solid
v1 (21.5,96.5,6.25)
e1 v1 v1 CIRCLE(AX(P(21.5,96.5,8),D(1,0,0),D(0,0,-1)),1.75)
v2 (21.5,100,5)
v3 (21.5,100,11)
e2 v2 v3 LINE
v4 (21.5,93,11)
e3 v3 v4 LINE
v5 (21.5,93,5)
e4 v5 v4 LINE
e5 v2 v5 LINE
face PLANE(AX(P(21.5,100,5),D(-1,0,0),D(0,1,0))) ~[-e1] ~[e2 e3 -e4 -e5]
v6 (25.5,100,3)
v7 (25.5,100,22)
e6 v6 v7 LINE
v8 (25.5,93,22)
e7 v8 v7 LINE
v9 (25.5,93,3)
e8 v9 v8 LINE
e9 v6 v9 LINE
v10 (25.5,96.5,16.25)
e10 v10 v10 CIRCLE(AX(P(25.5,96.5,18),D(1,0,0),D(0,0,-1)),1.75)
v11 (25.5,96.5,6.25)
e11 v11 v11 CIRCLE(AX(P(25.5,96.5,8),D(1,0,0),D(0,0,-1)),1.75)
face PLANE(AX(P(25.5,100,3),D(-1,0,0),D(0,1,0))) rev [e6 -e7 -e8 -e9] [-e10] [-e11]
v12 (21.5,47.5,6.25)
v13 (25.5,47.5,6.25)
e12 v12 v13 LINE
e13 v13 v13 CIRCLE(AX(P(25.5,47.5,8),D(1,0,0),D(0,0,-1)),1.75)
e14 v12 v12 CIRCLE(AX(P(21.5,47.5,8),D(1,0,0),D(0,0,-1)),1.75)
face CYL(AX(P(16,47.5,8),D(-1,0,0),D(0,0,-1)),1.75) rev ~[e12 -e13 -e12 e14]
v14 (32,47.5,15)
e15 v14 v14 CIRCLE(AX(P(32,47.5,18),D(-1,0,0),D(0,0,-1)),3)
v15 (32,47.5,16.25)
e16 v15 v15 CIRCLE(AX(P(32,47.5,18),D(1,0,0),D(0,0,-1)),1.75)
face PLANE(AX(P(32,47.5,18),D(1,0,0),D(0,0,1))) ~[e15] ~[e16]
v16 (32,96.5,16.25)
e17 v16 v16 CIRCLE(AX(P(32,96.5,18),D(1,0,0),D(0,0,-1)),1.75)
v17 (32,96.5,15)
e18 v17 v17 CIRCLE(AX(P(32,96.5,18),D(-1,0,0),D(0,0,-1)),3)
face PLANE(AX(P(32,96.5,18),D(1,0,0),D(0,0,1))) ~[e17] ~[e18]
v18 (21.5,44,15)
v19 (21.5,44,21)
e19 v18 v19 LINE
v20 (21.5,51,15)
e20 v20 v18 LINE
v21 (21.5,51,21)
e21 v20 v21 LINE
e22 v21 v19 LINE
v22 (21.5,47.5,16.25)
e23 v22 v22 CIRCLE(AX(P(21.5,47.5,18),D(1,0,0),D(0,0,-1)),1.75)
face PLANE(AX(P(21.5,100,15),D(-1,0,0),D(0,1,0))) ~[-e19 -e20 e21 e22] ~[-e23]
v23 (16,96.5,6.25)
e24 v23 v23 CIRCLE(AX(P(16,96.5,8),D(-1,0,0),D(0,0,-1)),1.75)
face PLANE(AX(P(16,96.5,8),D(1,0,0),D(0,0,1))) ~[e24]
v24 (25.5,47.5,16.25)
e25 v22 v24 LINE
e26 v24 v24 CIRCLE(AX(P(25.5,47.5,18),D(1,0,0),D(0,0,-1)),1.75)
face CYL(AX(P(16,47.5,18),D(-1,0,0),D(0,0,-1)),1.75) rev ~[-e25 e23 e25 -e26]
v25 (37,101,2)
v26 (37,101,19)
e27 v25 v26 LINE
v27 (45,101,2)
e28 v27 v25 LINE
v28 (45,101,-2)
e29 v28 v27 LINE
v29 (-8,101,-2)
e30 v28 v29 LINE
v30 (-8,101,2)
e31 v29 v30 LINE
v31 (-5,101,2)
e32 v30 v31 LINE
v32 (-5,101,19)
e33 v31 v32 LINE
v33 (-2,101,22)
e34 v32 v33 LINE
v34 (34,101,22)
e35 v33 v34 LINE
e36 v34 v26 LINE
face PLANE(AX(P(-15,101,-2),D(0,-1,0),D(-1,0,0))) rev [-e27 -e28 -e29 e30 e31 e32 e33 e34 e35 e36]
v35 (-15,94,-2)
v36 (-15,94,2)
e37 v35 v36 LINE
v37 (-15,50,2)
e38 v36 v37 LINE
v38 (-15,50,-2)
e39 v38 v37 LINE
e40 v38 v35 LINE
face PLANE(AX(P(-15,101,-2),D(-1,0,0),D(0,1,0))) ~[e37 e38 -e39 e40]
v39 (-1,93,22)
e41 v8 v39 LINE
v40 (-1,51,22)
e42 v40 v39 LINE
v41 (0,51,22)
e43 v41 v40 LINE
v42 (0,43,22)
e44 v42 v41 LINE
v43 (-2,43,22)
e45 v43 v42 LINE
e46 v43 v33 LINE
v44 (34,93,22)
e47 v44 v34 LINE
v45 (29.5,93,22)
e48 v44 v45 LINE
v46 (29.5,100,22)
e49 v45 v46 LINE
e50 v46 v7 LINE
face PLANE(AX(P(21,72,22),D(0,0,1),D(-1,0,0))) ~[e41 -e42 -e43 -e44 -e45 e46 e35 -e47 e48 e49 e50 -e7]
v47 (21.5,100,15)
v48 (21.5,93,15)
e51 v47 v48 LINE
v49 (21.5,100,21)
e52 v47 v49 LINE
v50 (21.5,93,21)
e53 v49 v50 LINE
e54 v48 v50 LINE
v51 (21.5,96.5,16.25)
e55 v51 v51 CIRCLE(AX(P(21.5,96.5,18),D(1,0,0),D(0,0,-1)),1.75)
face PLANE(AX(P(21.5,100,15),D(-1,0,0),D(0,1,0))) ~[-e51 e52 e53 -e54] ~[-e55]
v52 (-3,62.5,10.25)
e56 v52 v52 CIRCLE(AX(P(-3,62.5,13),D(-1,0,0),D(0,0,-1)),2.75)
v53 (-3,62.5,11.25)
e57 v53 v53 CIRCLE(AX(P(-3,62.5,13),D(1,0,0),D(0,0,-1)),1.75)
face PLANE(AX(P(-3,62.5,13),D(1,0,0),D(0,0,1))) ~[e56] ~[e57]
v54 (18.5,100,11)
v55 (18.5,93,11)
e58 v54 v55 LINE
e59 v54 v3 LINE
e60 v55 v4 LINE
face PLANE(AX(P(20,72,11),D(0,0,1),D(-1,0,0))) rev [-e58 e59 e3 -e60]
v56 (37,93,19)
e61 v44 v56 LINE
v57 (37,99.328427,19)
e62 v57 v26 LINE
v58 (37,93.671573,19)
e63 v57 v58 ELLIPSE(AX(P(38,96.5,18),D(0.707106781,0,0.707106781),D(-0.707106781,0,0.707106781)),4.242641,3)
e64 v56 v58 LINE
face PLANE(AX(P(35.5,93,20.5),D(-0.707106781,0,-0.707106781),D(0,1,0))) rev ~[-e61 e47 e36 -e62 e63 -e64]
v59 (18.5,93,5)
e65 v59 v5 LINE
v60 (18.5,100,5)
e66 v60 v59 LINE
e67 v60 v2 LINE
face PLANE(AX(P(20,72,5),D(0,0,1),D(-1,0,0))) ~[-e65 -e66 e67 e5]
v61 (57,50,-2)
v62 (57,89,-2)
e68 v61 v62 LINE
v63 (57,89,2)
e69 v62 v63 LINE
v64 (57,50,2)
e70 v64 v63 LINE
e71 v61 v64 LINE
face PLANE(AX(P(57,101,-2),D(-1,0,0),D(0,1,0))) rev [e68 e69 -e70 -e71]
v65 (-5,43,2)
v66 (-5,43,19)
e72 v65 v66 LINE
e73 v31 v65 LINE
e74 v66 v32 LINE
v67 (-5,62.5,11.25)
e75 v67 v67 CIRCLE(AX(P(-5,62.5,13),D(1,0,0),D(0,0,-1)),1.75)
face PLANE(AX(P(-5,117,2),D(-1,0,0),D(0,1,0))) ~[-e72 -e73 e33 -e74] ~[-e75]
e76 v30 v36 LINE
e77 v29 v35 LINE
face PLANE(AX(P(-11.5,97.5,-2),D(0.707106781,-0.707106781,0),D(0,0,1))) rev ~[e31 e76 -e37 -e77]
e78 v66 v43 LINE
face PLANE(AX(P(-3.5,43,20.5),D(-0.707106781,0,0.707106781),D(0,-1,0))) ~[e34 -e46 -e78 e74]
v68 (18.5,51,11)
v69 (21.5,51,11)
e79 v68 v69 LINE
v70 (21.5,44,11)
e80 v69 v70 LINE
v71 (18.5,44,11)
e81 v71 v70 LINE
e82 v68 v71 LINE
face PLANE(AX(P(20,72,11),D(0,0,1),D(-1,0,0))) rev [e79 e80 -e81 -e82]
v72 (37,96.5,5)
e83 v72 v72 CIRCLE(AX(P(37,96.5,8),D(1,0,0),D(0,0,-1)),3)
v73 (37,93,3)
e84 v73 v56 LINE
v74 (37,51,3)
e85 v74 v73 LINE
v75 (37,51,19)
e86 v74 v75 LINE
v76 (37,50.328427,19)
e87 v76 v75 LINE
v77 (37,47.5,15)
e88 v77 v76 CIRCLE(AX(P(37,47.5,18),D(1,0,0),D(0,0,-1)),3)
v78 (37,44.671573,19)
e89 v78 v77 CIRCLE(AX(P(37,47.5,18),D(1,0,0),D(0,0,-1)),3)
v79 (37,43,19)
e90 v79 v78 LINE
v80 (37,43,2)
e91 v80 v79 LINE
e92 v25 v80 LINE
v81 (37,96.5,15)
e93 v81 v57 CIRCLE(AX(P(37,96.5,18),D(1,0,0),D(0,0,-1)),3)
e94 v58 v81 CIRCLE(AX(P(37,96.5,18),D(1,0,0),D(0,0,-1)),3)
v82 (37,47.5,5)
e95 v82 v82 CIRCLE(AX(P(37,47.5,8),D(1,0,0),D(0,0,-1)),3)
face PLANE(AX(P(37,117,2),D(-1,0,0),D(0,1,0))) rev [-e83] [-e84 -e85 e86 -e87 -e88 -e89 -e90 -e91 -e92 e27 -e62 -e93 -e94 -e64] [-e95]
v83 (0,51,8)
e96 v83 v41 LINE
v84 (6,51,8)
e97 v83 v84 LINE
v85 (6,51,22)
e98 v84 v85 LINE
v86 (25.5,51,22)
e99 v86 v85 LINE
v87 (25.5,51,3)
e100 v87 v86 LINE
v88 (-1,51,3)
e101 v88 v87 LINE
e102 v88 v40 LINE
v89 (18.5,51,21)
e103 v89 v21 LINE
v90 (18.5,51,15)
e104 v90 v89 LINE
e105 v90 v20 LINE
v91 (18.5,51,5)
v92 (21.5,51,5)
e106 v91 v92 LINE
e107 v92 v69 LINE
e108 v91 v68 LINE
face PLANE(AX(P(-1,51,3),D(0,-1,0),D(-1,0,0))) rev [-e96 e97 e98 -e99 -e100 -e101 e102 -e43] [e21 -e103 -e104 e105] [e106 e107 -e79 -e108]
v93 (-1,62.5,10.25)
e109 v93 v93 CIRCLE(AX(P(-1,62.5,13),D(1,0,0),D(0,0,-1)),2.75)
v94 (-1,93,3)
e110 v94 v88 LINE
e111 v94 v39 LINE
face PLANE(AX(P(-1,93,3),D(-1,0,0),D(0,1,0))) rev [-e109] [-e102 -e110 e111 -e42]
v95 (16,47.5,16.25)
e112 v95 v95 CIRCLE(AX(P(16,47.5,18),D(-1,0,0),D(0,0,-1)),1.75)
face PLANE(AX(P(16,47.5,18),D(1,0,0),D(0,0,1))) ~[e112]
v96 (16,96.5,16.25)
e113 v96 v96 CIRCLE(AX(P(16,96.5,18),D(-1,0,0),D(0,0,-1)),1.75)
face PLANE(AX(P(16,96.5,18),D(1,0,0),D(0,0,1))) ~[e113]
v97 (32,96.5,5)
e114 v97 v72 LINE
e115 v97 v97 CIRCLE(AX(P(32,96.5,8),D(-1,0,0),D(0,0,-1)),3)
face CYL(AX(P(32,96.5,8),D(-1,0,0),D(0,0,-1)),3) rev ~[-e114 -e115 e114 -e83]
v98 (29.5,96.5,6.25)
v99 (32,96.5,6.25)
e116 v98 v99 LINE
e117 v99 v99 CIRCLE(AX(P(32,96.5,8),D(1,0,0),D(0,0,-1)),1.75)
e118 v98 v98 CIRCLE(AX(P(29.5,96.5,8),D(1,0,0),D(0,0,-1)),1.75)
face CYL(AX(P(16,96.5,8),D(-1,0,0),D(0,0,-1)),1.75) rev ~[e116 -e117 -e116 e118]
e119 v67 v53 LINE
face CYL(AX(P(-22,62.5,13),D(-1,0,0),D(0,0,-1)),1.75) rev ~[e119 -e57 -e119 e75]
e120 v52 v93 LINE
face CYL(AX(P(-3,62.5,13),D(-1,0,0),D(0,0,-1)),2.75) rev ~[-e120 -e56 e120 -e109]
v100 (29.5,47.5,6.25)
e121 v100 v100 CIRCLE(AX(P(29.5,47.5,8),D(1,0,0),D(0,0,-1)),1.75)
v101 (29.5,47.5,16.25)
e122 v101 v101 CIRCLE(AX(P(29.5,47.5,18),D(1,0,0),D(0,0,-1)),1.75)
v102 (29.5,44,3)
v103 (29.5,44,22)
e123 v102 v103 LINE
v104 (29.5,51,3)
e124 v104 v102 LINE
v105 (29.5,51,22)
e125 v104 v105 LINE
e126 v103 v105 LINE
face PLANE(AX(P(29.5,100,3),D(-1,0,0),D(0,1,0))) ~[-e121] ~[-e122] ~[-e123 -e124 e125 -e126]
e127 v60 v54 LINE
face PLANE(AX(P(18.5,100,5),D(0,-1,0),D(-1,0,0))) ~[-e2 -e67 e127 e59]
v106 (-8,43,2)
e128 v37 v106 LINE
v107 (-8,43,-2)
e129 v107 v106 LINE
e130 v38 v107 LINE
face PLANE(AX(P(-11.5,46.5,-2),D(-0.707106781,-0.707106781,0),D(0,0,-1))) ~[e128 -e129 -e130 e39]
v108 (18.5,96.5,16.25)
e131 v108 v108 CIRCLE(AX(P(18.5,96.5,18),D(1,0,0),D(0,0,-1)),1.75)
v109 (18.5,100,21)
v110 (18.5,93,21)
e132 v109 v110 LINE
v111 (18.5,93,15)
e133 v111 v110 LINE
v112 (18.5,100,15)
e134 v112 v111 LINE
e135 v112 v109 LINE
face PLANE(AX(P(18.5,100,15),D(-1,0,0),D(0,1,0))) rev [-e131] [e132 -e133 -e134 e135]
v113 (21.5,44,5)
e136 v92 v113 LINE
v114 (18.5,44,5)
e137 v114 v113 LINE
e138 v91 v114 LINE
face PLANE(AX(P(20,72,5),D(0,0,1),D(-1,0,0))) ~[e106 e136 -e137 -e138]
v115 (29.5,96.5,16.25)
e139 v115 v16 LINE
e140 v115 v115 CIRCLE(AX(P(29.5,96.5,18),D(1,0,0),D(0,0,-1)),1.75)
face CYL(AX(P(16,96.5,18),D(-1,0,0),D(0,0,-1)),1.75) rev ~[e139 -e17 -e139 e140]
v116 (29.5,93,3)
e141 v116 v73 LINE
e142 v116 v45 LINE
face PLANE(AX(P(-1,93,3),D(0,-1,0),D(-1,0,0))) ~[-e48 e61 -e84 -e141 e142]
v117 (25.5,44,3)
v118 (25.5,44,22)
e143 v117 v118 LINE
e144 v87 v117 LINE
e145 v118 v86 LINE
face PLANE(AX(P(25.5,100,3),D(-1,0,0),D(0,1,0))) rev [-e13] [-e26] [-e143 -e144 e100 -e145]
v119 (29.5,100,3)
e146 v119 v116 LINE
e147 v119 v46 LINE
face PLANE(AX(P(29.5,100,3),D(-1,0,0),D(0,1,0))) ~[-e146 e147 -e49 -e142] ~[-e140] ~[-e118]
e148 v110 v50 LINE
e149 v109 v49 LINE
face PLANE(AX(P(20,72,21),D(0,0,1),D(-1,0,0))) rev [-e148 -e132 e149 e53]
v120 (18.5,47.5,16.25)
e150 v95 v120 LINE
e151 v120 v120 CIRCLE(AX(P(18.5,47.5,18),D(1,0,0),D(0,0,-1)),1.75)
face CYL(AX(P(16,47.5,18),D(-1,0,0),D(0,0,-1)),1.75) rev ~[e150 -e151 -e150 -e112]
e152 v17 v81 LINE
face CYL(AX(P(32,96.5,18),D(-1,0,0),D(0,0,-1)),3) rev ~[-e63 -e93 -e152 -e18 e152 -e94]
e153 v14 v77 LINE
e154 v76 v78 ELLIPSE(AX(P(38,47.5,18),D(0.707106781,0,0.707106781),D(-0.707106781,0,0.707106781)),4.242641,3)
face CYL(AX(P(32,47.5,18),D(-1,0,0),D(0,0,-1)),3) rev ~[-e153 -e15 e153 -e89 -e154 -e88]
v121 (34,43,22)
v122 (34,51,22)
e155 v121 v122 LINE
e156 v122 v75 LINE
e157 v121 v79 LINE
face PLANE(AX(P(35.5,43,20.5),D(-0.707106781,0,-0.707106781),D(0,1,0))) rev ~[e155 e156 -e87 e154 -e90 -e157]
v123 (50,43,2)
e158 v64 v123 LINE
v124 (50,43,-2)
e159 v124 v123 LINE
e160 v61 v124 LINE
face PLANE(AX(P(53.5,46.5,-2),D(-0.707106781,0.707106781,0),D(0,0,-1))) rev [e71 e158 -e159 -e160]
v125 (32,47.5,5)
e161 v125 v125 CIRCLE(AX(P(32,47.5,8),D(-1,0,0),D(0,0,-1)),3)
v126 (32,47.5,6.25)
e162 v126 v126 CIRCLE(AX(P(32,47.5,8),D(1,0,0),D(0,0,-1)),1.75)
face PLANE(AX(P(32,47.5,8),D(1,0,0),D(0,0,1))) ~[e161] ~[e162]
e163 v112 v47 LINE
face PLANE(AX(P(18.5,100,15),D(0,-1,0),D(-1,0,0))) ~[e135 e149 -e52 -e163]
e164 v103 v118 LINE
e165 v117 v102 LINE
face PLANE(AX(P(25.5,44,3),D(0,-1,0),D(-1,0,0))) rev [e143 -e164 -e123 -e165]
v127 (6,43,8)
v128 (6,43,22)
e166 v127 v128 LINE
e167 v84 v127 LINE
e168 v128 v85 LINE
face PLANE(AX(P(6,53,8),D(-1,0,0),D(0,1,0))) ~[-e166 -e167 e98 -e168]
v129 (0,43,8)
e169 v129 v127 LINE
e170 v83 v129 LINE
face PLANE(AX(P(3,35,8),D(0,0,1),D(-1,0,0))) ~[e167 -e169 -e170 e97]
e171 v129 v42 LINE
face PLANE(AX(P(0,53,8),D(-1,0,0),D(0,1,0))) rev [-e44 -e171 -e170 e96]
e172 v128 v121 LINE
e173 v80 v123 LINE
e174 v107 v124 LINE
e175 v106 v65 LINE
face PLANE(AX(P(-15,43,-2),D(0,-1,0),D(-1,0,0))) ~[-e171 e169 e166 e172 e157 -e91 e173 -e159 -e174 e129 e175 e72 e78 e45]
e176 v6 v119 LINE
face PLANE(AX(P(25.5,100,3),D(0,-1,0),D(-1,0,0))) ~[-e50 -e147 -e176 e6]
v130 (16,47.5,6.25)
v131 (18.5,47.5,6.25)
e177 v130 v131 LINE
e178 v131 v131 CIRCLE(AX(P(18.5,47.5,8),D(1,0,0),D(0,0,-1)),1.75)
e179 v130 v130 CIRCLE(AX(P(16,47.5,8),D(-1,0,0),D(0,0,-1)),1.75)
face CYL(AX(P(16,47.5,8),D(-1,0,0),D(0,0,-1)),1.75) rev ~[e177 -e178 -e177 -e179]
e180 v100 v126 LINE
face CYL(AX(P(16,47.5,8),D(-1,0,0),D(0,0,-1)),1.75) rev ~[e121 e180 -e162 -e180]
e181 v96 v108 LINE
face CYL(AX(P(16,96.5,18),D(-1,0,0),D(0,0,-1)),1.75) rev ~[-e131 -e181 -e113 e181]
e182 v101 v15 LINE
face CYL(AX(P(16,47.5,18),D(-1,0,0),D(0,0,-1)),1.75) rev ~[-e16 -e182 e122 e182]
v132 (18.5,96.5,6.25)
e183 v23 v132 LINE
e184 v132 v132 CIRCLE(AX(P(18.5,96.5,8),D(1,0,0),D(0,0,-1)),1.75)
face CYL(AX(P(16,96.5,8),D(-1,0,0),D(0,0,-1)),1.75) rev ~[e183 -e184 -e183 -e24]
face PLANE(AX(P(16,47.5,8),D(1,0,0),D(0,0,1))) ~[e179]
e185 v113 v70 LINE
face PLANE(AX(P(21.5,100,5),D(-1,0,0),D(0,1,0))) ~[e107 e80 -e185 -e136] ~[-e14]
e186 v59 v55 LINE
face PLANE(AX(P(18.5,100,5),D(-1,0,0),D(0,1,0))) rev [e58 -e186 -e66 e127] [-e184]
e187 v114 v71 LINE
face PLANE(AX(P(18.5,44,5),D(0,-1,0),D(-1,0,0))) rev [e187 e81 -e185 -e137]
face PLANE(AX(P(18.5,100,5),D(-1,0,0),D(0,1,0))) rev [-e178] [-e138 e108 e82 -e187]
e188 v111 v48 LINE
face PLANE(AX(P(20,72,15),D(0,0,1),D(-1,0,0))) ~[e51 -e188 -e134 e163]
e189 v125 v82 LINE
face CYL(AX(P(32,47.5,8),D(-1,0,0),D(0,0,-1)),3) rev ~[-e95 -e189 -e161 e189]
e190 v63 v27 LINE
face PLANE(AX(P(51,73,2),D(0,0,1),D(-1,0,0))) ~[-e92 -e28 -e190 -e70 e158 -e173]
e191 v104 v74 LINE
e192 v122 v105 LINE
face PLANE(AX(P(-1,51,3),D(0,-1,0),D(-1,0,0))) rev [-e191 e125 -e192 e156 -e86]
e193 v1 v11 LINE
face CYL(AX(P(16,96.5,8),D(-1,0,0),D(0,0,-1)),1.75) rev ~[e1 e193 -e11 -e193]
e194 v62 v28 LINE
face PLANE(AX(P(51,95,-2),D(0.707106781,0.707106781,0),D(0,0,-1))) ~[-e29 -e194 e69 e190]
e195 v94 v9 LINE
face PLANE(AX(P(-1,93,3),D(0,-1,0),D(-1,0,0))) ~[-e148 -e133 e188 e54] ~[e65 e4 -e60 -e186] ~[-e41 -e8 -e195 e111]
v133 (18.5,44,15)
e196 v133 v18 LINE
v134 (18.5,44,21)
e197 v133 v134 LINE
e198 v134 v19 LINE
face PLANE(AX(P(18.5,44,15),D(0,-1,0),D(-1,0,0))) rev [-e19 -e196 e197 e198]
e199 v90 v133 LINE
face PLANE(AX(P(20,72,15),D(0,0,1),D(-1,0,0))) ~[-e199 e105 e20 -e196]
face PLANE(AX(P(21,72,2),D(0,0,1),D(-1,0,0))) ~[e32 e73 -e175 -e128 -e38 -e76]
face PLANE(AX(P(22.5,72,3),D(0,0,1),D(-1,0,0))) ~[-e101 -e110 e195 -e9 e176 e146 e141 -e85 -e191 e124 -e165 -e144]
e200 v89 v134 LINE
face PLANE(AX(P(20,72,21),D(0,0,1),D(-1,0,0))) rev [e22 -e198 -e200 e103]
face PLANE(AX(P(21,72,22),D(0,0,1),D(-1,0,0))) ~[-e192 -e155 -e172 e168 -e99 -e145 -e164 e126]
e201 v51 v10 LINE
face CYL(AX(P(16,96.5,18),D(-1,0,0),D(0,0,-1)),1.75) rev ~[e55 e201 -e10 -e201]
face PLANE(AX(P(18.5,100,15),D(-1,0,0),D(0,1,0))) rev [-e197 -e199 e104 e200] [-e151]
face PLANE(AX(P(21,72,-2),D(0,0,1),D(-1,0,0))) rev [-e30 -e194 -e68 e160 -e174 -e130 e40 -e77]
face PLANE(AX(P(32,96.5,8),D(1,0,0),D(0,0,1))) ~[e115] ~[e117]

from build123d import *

# Parameters (mm, degrees)
BOX056_W                = 72
BOX056_H                = 58
BOX056_DEPTH            = 4
BOX024_W                = 6
BOX024_H                = 36
BOX024_DEPTH            = 23
CYLINDER011_R           = 2.75
CYLINDER011_DEPTH       = 74.5
CYLINDER011_PITCH_ANGLE = 90
CYLINDER008_R           = 1.75
CYLINDER008_DEPTH       = 21.5
CYLINDER008_PITCH_ANGLE = 90
CYLINDER009_R           = 3
CYLINDER009_DEPTH       = 21.5
CYLINDER009_PITCH_ANGLE = 90
BOX007_W                = 3
BOX007_H                = 56
BOX007_DEPTH            = 6
BOX008_W                = 3
BOX008_H                = 56
BOX008_DEPTH            = 6
BOX006_W                = 4
BOX006_H                = 56
BOX006_DEPTH            = 21
CYLINDER003_R           = 1.75
CYLINDER003_DEPTH       = 74.5
CYLINDER003_PITCH_ANGLE = 90
BOX003_W                = 28
BOX003_H                = 88
BOX003_DEPTH            = 38
BOX002_W                = 28
BOX002_H                = 88
BOX002_DEPTH            = 38
BOX001_W                = 47
BOX001_H                = 42
BOX001_DEPTH            = 25
BOX_W                   = 72
BOX_H                   = 58
BOX_DEPTH               = 24
FILLET_R                = 10
CHAMFER_SIZE            = 3
CHAMFER110_1_SIZE       = 12
CHAMFER110_2_SIZE       = 7


with BuildPart() as cubo006:
    # Box056 → Box056 (new body)
    with BuildSketch(Plane(origin=(-15, -29, -2), x_dir=(1, 0, 0), z_dir=(0, 0, 1))):
        with Locations((36, 29)):
            Rectangle(BOX056_W, BOX056_H)
    extrude(amount=BOX056_DEPTH)


with BuildPart() as cube024:
    # Box024 → Box024 (new body)
    with BuildSketch(Plane(origin=(0, 19, 7), x_dir=(1, 0, 0), z_dir=(0, 0, 1))):
        with Locations((3, 18)):
            Rectangle(BOX024_W, BOX024_H)
    extrude(amount=BOX024_DEPTH)


with BuildPart() as joint_d013:
    # Cylinder011 → Cylinder011 (new body)
    with BuildSketch(Plane.XY):
        Circle(CYLINDER011_R)
    extrude(amount=CYLINDER011_DEPTH)


with BuildPart() as joint_d013_1:
    # Cylinder011 pitch: moved
    add(joint_d013.part.rotate(Axis((0, 0, 0), (0, 1, 0)), CYLINDER011_PITCH_ANGLE))


with BuildPart() as joint_d013_2:
    # Cylinder011 placement: moved
    add(joint_d013_1.part.moved(Location((-3, 9.5, 12))))


with BuildPart() as joint_d010:
    # Cylinder008 → Cylinder008 (new body)
    with BuildSketch(Plane.XY):
        Circle(CYLINDER008_R)
    extrude(amount=CYLINDER008_DEPTH)


with BuildPart() as joint_d010_1:
    # Cylinder008 pitch: moved
    add(joint_d010.part.rotate(Axis((0, 0, 0), (0, 1, 0)), CYLINDER008_PITCH_ANGLE))


with BuildPart() as joint_d010_2:
    # Cylinder008 placement: moved
    add(joint_d010_1.part.moved(Location((16, -24.5, 7))))


with BuildPart() as joint_d011:
    # Cylinder009 → Cylinder009 (new body)
    with BuildSketch(Plane.XY):
        Circle(CYLINDER009_R)
    extrude(amount=CYLINDER009_DEPTH)


with BuildPart() as joint_d011_1:
    # Cylinder009 pitch: moved
    add(joint_d011.part.rotate(Axis((0, 0, 0), (0, 1, 0)), CYLINDER009_PITCH_ANGLE))


with BuildPart() as joint_d011_2:
    # Cylinder009 placement: moved
    add(joint_d011_1.part.moved(Location((32, -24.5, 7))))


with BuildPart() as fusion001:
    # Fusion001 base: copy of Joint-D011
    add(joint_d011_2.part)

    # Fusion001: union Joint-D010
    add(joint_d010_2.part)


with BuildPart() as fusion002:
    # Fusion002 base: copy of Joint-D011
    add(joint_d011_2.part)

    # Fusion002: union Joint-D010
    add(joint_d010_2.part)


with BuildPart() as fusion002_1:
    # Fusion002 placement: moved
    add(fusion002.part.moved(Location((0, 0, 10))))


with BuildPart() as fusion003:
    # Fusion003 base: copy of Joint-D011
    add(joint_d011_2.part)

    # Fusion003: union Joint-D010
    add(joint_d010_2.part)


with BuildPart() as fusion003_1:
    # Fusion003 placement: moved
    add(fusion003.part.moved(Location((0, 49, 0))))


with BuildPart() as fusion004:
    # Fusion004 base: copy of Joint-D011
    add(joint_d011_2.part)

    # Fusion004: union Joint-D010
    add(joint_d010_2.part)


with BuildPart() as fusion004_1:
    # Fusion004 placement: moved
    add(fusion004.part.moved(Location((0, 49, 10))))


with BuildPart() as cube007:
    # Box007 → Box007 (new body)
    with BuildSketch(Plane(origin=(18.5, -28, 4), x_dir=(1, 0, 0), z_dir=(0, 0, 1))):
        with Locations((1.5, 28)):
            Rectangle(BOX007_W, BOX007_H)
    extrude(amount=BOX007_DEPTH)


with BuildPart() as cube008:
    # Box008 → Box008 (new body)
    with BuildSketch(Plane(origin=(18.5, -28, 14), x_dir=(1, 0, 0), z_dir=(0, 0, 1))):
        with Locations((1.5, 28)):
            Rectangle(BOX008_W, BOX008_H)
    extrude(amount=BOX008_DEPTH)


with BuildPart() as cube006:
    # Box006 → Box006 (new body)
    with BuildSketch(Plane(origin=(25.5, -28, 2), x_dir=(1, 0, 0), z_dir=(0, 0, 1))):
        with Locations((2, 28)):
            Rectangle(BOX006_W, BOX006_H)
    extrude(amount=BOX006_DEPTH)


with BuildPart() as joint_d005:
    # Cylinder003 → Cylinder003 (new body)
    with BuildSketch(Plane.XY):
        Circle(CYLINDER003_R)
    extrude(amount=CYLINDER003_DEPTH)


with BuildPart() as joint_d005_1:
    # Cylinder003 pitch: moved
    add(joint_d005.part.rotate(Axis((0, 0, 0), (0, 1, 0)), CYLINDER003_PITCH_ANGLE))


with BuildPart() as joint_d005_2:
    # Cylinder003 placement: moved
    add(joint_d005_1.part.moved(Location((-22, 9.5, 12))))


with BuildPart() as cube003:
    # Box003 → Box003 (new body)
    with BuildSketch(Plane(origin=(-33, -45, 1), x_dir=(1, 0, 0), z_dir=(0, 0, 1))):
        with Locations((14, 44)):
            Rectangle(BOX003_W, BOX003_H)
    extrude(amount=BOX003_DEPTH)


with BuildPart() as cube002:
    # Box002 → Box002 (new body)
    with BuildSketch(Plane(origin=(37, -45, 1), x_dir=(1, 0, 0), z_dir=(0, 0, 1))):
        with Locations((14, 44)):
            Rectangle(BOX002_W, BOX002_H)
    extrude(amount=BOX002_DEPTH)


with BuildPart() as cube001:
    # Box001 → Box001 (new body)
    with BuildSketch(Plane(origin=(-1, -21, 2), x_dir=(1, 0, 0), z_dir=(0, 0, 1))):
        with Locations((23.5, 21)):
            Rectangle(BOX001_W, BOX001_H)
    extrude(amount=BOX001_DEPTH)


with BuildPart() as clone_of_foot_src:
    # Box → Box (new body)
    with BuildSketch(Plane(origin=(-15, -29, -3), x_dir=(1, 0, 0), z_dir=(0, 0, 1))):
        with Locations((36, 29)):
            Rectangle(BOX_W, BOX_H)
    extrude(amount=BOX_DEPTH)

    # Cut: cut Cube001
    add(cube001.part, mode=Mode.SUBTRACT)

    # Cut001: cut Cube002
    add(cube002.part, mode=Mode.SUBTRACT)

    # Cut002: cut Cube003
    add(cube003.part, mode=Mode.SUBTRACT)

    # Fillet
    fillet_edges = [clone_of_foot_src.edges().sort_by_distance(p)[0] for p in [
        (-15, -29, -1),
        (-15, 29, -1),
        (57, -29, -1),
        (57, 29, -1),
    ]]
    fillet(fillet_edges, radius=FILLET_R)

    # Chamfer
    chamfer_edges = [clone_of_foot_src.edges().sort_by_distance(p)[0] for p in [
        (-5, 0, 21),
        (37, 25, 21),
        (37, -25, 21),
    ]]
    chamfer(chamfer_edges, length=CHAMFER_SIZE)

    # Cut008: cut Joint-D005
    add(joint_d005_2.part, mode=Mode.SUBTRACT)

    # Cut010: cut Cube006
    add(cube006.part, mode=Mode.SUBTRACT)

    # Cut011: cut Cube008
    add(cube008.part, mode=Mode.SUBTRACT)

    # Cut012: cut Cube007
    add(cube007.part, mode=Mode.SUBTRACT)

    # Cut013: cut Fusion004
    add(fusion004_1.part, mode=Mode.SUBTRACT)

    # Cut014: cut Fusion003
    add(fusion003_1.part, mode=Mode.SUBTRACT)

    # Cut015: cut Fusion002
    add(fusion002_1.part, mode=Mode.SUBTRACT)

    # Cut016: cut Fusion001
    add(fusion001.part, mode=Mode.SUBTRACT)

    # Cut017: cut Joint-D013
    add(joint_d013_2.part, mode=Mode.SUBTRACT)

    # Cut039: cut Cube024
    add(cube024.part, mode=Mode.SUBTRACT)


with BuildPart() as clone_of_foot_src_1:
    # Cut039 placement: moved
    add(clone_of_foot_src.part.moved(Location((0, 0, 1))))

    # Fusion060: union Cubo006
    add(cubo006.part)

    # Chamfer110 1
    chamfer110_1_edges = [clone_of_foot_src_1.edges().sort_by_distance(p)[0] for p in [
        (57, -29, 0),
    ]]
    chamfer(chamfer110_1_edges, length=CHAMFER110_1_SIZE)

    # Chamfer110 2
    chamfer110_2_edges = [clone_of_foot_src_1.edges().sort_by_distance(p)[0] for p in [
        (-15, -29, 0),
        (57, 29, 0),
        (-15, 29, 0),
    ]]
    chamfer(chamfer110_2_edges, length=CHAMFER110_2_SIZE)


with BuildPart() as part_mirroring007011:
    # Part__Mirroring007011: instance of Clone of foot-src
    add(clone_of_foot_src_1.part.mirror(Plane(origin=(0, 0, 0), x_dir=(1, 0, 0), z_dir=(0, 1, 0))))


with BuildPart() as part_mirroring007011_1:
    # Part__Mirroring007011 placement: moved
    add(part_mirroring007011.part.moved(Location((0, 72, 0))))


solid = part_mirroring007011_1.part
